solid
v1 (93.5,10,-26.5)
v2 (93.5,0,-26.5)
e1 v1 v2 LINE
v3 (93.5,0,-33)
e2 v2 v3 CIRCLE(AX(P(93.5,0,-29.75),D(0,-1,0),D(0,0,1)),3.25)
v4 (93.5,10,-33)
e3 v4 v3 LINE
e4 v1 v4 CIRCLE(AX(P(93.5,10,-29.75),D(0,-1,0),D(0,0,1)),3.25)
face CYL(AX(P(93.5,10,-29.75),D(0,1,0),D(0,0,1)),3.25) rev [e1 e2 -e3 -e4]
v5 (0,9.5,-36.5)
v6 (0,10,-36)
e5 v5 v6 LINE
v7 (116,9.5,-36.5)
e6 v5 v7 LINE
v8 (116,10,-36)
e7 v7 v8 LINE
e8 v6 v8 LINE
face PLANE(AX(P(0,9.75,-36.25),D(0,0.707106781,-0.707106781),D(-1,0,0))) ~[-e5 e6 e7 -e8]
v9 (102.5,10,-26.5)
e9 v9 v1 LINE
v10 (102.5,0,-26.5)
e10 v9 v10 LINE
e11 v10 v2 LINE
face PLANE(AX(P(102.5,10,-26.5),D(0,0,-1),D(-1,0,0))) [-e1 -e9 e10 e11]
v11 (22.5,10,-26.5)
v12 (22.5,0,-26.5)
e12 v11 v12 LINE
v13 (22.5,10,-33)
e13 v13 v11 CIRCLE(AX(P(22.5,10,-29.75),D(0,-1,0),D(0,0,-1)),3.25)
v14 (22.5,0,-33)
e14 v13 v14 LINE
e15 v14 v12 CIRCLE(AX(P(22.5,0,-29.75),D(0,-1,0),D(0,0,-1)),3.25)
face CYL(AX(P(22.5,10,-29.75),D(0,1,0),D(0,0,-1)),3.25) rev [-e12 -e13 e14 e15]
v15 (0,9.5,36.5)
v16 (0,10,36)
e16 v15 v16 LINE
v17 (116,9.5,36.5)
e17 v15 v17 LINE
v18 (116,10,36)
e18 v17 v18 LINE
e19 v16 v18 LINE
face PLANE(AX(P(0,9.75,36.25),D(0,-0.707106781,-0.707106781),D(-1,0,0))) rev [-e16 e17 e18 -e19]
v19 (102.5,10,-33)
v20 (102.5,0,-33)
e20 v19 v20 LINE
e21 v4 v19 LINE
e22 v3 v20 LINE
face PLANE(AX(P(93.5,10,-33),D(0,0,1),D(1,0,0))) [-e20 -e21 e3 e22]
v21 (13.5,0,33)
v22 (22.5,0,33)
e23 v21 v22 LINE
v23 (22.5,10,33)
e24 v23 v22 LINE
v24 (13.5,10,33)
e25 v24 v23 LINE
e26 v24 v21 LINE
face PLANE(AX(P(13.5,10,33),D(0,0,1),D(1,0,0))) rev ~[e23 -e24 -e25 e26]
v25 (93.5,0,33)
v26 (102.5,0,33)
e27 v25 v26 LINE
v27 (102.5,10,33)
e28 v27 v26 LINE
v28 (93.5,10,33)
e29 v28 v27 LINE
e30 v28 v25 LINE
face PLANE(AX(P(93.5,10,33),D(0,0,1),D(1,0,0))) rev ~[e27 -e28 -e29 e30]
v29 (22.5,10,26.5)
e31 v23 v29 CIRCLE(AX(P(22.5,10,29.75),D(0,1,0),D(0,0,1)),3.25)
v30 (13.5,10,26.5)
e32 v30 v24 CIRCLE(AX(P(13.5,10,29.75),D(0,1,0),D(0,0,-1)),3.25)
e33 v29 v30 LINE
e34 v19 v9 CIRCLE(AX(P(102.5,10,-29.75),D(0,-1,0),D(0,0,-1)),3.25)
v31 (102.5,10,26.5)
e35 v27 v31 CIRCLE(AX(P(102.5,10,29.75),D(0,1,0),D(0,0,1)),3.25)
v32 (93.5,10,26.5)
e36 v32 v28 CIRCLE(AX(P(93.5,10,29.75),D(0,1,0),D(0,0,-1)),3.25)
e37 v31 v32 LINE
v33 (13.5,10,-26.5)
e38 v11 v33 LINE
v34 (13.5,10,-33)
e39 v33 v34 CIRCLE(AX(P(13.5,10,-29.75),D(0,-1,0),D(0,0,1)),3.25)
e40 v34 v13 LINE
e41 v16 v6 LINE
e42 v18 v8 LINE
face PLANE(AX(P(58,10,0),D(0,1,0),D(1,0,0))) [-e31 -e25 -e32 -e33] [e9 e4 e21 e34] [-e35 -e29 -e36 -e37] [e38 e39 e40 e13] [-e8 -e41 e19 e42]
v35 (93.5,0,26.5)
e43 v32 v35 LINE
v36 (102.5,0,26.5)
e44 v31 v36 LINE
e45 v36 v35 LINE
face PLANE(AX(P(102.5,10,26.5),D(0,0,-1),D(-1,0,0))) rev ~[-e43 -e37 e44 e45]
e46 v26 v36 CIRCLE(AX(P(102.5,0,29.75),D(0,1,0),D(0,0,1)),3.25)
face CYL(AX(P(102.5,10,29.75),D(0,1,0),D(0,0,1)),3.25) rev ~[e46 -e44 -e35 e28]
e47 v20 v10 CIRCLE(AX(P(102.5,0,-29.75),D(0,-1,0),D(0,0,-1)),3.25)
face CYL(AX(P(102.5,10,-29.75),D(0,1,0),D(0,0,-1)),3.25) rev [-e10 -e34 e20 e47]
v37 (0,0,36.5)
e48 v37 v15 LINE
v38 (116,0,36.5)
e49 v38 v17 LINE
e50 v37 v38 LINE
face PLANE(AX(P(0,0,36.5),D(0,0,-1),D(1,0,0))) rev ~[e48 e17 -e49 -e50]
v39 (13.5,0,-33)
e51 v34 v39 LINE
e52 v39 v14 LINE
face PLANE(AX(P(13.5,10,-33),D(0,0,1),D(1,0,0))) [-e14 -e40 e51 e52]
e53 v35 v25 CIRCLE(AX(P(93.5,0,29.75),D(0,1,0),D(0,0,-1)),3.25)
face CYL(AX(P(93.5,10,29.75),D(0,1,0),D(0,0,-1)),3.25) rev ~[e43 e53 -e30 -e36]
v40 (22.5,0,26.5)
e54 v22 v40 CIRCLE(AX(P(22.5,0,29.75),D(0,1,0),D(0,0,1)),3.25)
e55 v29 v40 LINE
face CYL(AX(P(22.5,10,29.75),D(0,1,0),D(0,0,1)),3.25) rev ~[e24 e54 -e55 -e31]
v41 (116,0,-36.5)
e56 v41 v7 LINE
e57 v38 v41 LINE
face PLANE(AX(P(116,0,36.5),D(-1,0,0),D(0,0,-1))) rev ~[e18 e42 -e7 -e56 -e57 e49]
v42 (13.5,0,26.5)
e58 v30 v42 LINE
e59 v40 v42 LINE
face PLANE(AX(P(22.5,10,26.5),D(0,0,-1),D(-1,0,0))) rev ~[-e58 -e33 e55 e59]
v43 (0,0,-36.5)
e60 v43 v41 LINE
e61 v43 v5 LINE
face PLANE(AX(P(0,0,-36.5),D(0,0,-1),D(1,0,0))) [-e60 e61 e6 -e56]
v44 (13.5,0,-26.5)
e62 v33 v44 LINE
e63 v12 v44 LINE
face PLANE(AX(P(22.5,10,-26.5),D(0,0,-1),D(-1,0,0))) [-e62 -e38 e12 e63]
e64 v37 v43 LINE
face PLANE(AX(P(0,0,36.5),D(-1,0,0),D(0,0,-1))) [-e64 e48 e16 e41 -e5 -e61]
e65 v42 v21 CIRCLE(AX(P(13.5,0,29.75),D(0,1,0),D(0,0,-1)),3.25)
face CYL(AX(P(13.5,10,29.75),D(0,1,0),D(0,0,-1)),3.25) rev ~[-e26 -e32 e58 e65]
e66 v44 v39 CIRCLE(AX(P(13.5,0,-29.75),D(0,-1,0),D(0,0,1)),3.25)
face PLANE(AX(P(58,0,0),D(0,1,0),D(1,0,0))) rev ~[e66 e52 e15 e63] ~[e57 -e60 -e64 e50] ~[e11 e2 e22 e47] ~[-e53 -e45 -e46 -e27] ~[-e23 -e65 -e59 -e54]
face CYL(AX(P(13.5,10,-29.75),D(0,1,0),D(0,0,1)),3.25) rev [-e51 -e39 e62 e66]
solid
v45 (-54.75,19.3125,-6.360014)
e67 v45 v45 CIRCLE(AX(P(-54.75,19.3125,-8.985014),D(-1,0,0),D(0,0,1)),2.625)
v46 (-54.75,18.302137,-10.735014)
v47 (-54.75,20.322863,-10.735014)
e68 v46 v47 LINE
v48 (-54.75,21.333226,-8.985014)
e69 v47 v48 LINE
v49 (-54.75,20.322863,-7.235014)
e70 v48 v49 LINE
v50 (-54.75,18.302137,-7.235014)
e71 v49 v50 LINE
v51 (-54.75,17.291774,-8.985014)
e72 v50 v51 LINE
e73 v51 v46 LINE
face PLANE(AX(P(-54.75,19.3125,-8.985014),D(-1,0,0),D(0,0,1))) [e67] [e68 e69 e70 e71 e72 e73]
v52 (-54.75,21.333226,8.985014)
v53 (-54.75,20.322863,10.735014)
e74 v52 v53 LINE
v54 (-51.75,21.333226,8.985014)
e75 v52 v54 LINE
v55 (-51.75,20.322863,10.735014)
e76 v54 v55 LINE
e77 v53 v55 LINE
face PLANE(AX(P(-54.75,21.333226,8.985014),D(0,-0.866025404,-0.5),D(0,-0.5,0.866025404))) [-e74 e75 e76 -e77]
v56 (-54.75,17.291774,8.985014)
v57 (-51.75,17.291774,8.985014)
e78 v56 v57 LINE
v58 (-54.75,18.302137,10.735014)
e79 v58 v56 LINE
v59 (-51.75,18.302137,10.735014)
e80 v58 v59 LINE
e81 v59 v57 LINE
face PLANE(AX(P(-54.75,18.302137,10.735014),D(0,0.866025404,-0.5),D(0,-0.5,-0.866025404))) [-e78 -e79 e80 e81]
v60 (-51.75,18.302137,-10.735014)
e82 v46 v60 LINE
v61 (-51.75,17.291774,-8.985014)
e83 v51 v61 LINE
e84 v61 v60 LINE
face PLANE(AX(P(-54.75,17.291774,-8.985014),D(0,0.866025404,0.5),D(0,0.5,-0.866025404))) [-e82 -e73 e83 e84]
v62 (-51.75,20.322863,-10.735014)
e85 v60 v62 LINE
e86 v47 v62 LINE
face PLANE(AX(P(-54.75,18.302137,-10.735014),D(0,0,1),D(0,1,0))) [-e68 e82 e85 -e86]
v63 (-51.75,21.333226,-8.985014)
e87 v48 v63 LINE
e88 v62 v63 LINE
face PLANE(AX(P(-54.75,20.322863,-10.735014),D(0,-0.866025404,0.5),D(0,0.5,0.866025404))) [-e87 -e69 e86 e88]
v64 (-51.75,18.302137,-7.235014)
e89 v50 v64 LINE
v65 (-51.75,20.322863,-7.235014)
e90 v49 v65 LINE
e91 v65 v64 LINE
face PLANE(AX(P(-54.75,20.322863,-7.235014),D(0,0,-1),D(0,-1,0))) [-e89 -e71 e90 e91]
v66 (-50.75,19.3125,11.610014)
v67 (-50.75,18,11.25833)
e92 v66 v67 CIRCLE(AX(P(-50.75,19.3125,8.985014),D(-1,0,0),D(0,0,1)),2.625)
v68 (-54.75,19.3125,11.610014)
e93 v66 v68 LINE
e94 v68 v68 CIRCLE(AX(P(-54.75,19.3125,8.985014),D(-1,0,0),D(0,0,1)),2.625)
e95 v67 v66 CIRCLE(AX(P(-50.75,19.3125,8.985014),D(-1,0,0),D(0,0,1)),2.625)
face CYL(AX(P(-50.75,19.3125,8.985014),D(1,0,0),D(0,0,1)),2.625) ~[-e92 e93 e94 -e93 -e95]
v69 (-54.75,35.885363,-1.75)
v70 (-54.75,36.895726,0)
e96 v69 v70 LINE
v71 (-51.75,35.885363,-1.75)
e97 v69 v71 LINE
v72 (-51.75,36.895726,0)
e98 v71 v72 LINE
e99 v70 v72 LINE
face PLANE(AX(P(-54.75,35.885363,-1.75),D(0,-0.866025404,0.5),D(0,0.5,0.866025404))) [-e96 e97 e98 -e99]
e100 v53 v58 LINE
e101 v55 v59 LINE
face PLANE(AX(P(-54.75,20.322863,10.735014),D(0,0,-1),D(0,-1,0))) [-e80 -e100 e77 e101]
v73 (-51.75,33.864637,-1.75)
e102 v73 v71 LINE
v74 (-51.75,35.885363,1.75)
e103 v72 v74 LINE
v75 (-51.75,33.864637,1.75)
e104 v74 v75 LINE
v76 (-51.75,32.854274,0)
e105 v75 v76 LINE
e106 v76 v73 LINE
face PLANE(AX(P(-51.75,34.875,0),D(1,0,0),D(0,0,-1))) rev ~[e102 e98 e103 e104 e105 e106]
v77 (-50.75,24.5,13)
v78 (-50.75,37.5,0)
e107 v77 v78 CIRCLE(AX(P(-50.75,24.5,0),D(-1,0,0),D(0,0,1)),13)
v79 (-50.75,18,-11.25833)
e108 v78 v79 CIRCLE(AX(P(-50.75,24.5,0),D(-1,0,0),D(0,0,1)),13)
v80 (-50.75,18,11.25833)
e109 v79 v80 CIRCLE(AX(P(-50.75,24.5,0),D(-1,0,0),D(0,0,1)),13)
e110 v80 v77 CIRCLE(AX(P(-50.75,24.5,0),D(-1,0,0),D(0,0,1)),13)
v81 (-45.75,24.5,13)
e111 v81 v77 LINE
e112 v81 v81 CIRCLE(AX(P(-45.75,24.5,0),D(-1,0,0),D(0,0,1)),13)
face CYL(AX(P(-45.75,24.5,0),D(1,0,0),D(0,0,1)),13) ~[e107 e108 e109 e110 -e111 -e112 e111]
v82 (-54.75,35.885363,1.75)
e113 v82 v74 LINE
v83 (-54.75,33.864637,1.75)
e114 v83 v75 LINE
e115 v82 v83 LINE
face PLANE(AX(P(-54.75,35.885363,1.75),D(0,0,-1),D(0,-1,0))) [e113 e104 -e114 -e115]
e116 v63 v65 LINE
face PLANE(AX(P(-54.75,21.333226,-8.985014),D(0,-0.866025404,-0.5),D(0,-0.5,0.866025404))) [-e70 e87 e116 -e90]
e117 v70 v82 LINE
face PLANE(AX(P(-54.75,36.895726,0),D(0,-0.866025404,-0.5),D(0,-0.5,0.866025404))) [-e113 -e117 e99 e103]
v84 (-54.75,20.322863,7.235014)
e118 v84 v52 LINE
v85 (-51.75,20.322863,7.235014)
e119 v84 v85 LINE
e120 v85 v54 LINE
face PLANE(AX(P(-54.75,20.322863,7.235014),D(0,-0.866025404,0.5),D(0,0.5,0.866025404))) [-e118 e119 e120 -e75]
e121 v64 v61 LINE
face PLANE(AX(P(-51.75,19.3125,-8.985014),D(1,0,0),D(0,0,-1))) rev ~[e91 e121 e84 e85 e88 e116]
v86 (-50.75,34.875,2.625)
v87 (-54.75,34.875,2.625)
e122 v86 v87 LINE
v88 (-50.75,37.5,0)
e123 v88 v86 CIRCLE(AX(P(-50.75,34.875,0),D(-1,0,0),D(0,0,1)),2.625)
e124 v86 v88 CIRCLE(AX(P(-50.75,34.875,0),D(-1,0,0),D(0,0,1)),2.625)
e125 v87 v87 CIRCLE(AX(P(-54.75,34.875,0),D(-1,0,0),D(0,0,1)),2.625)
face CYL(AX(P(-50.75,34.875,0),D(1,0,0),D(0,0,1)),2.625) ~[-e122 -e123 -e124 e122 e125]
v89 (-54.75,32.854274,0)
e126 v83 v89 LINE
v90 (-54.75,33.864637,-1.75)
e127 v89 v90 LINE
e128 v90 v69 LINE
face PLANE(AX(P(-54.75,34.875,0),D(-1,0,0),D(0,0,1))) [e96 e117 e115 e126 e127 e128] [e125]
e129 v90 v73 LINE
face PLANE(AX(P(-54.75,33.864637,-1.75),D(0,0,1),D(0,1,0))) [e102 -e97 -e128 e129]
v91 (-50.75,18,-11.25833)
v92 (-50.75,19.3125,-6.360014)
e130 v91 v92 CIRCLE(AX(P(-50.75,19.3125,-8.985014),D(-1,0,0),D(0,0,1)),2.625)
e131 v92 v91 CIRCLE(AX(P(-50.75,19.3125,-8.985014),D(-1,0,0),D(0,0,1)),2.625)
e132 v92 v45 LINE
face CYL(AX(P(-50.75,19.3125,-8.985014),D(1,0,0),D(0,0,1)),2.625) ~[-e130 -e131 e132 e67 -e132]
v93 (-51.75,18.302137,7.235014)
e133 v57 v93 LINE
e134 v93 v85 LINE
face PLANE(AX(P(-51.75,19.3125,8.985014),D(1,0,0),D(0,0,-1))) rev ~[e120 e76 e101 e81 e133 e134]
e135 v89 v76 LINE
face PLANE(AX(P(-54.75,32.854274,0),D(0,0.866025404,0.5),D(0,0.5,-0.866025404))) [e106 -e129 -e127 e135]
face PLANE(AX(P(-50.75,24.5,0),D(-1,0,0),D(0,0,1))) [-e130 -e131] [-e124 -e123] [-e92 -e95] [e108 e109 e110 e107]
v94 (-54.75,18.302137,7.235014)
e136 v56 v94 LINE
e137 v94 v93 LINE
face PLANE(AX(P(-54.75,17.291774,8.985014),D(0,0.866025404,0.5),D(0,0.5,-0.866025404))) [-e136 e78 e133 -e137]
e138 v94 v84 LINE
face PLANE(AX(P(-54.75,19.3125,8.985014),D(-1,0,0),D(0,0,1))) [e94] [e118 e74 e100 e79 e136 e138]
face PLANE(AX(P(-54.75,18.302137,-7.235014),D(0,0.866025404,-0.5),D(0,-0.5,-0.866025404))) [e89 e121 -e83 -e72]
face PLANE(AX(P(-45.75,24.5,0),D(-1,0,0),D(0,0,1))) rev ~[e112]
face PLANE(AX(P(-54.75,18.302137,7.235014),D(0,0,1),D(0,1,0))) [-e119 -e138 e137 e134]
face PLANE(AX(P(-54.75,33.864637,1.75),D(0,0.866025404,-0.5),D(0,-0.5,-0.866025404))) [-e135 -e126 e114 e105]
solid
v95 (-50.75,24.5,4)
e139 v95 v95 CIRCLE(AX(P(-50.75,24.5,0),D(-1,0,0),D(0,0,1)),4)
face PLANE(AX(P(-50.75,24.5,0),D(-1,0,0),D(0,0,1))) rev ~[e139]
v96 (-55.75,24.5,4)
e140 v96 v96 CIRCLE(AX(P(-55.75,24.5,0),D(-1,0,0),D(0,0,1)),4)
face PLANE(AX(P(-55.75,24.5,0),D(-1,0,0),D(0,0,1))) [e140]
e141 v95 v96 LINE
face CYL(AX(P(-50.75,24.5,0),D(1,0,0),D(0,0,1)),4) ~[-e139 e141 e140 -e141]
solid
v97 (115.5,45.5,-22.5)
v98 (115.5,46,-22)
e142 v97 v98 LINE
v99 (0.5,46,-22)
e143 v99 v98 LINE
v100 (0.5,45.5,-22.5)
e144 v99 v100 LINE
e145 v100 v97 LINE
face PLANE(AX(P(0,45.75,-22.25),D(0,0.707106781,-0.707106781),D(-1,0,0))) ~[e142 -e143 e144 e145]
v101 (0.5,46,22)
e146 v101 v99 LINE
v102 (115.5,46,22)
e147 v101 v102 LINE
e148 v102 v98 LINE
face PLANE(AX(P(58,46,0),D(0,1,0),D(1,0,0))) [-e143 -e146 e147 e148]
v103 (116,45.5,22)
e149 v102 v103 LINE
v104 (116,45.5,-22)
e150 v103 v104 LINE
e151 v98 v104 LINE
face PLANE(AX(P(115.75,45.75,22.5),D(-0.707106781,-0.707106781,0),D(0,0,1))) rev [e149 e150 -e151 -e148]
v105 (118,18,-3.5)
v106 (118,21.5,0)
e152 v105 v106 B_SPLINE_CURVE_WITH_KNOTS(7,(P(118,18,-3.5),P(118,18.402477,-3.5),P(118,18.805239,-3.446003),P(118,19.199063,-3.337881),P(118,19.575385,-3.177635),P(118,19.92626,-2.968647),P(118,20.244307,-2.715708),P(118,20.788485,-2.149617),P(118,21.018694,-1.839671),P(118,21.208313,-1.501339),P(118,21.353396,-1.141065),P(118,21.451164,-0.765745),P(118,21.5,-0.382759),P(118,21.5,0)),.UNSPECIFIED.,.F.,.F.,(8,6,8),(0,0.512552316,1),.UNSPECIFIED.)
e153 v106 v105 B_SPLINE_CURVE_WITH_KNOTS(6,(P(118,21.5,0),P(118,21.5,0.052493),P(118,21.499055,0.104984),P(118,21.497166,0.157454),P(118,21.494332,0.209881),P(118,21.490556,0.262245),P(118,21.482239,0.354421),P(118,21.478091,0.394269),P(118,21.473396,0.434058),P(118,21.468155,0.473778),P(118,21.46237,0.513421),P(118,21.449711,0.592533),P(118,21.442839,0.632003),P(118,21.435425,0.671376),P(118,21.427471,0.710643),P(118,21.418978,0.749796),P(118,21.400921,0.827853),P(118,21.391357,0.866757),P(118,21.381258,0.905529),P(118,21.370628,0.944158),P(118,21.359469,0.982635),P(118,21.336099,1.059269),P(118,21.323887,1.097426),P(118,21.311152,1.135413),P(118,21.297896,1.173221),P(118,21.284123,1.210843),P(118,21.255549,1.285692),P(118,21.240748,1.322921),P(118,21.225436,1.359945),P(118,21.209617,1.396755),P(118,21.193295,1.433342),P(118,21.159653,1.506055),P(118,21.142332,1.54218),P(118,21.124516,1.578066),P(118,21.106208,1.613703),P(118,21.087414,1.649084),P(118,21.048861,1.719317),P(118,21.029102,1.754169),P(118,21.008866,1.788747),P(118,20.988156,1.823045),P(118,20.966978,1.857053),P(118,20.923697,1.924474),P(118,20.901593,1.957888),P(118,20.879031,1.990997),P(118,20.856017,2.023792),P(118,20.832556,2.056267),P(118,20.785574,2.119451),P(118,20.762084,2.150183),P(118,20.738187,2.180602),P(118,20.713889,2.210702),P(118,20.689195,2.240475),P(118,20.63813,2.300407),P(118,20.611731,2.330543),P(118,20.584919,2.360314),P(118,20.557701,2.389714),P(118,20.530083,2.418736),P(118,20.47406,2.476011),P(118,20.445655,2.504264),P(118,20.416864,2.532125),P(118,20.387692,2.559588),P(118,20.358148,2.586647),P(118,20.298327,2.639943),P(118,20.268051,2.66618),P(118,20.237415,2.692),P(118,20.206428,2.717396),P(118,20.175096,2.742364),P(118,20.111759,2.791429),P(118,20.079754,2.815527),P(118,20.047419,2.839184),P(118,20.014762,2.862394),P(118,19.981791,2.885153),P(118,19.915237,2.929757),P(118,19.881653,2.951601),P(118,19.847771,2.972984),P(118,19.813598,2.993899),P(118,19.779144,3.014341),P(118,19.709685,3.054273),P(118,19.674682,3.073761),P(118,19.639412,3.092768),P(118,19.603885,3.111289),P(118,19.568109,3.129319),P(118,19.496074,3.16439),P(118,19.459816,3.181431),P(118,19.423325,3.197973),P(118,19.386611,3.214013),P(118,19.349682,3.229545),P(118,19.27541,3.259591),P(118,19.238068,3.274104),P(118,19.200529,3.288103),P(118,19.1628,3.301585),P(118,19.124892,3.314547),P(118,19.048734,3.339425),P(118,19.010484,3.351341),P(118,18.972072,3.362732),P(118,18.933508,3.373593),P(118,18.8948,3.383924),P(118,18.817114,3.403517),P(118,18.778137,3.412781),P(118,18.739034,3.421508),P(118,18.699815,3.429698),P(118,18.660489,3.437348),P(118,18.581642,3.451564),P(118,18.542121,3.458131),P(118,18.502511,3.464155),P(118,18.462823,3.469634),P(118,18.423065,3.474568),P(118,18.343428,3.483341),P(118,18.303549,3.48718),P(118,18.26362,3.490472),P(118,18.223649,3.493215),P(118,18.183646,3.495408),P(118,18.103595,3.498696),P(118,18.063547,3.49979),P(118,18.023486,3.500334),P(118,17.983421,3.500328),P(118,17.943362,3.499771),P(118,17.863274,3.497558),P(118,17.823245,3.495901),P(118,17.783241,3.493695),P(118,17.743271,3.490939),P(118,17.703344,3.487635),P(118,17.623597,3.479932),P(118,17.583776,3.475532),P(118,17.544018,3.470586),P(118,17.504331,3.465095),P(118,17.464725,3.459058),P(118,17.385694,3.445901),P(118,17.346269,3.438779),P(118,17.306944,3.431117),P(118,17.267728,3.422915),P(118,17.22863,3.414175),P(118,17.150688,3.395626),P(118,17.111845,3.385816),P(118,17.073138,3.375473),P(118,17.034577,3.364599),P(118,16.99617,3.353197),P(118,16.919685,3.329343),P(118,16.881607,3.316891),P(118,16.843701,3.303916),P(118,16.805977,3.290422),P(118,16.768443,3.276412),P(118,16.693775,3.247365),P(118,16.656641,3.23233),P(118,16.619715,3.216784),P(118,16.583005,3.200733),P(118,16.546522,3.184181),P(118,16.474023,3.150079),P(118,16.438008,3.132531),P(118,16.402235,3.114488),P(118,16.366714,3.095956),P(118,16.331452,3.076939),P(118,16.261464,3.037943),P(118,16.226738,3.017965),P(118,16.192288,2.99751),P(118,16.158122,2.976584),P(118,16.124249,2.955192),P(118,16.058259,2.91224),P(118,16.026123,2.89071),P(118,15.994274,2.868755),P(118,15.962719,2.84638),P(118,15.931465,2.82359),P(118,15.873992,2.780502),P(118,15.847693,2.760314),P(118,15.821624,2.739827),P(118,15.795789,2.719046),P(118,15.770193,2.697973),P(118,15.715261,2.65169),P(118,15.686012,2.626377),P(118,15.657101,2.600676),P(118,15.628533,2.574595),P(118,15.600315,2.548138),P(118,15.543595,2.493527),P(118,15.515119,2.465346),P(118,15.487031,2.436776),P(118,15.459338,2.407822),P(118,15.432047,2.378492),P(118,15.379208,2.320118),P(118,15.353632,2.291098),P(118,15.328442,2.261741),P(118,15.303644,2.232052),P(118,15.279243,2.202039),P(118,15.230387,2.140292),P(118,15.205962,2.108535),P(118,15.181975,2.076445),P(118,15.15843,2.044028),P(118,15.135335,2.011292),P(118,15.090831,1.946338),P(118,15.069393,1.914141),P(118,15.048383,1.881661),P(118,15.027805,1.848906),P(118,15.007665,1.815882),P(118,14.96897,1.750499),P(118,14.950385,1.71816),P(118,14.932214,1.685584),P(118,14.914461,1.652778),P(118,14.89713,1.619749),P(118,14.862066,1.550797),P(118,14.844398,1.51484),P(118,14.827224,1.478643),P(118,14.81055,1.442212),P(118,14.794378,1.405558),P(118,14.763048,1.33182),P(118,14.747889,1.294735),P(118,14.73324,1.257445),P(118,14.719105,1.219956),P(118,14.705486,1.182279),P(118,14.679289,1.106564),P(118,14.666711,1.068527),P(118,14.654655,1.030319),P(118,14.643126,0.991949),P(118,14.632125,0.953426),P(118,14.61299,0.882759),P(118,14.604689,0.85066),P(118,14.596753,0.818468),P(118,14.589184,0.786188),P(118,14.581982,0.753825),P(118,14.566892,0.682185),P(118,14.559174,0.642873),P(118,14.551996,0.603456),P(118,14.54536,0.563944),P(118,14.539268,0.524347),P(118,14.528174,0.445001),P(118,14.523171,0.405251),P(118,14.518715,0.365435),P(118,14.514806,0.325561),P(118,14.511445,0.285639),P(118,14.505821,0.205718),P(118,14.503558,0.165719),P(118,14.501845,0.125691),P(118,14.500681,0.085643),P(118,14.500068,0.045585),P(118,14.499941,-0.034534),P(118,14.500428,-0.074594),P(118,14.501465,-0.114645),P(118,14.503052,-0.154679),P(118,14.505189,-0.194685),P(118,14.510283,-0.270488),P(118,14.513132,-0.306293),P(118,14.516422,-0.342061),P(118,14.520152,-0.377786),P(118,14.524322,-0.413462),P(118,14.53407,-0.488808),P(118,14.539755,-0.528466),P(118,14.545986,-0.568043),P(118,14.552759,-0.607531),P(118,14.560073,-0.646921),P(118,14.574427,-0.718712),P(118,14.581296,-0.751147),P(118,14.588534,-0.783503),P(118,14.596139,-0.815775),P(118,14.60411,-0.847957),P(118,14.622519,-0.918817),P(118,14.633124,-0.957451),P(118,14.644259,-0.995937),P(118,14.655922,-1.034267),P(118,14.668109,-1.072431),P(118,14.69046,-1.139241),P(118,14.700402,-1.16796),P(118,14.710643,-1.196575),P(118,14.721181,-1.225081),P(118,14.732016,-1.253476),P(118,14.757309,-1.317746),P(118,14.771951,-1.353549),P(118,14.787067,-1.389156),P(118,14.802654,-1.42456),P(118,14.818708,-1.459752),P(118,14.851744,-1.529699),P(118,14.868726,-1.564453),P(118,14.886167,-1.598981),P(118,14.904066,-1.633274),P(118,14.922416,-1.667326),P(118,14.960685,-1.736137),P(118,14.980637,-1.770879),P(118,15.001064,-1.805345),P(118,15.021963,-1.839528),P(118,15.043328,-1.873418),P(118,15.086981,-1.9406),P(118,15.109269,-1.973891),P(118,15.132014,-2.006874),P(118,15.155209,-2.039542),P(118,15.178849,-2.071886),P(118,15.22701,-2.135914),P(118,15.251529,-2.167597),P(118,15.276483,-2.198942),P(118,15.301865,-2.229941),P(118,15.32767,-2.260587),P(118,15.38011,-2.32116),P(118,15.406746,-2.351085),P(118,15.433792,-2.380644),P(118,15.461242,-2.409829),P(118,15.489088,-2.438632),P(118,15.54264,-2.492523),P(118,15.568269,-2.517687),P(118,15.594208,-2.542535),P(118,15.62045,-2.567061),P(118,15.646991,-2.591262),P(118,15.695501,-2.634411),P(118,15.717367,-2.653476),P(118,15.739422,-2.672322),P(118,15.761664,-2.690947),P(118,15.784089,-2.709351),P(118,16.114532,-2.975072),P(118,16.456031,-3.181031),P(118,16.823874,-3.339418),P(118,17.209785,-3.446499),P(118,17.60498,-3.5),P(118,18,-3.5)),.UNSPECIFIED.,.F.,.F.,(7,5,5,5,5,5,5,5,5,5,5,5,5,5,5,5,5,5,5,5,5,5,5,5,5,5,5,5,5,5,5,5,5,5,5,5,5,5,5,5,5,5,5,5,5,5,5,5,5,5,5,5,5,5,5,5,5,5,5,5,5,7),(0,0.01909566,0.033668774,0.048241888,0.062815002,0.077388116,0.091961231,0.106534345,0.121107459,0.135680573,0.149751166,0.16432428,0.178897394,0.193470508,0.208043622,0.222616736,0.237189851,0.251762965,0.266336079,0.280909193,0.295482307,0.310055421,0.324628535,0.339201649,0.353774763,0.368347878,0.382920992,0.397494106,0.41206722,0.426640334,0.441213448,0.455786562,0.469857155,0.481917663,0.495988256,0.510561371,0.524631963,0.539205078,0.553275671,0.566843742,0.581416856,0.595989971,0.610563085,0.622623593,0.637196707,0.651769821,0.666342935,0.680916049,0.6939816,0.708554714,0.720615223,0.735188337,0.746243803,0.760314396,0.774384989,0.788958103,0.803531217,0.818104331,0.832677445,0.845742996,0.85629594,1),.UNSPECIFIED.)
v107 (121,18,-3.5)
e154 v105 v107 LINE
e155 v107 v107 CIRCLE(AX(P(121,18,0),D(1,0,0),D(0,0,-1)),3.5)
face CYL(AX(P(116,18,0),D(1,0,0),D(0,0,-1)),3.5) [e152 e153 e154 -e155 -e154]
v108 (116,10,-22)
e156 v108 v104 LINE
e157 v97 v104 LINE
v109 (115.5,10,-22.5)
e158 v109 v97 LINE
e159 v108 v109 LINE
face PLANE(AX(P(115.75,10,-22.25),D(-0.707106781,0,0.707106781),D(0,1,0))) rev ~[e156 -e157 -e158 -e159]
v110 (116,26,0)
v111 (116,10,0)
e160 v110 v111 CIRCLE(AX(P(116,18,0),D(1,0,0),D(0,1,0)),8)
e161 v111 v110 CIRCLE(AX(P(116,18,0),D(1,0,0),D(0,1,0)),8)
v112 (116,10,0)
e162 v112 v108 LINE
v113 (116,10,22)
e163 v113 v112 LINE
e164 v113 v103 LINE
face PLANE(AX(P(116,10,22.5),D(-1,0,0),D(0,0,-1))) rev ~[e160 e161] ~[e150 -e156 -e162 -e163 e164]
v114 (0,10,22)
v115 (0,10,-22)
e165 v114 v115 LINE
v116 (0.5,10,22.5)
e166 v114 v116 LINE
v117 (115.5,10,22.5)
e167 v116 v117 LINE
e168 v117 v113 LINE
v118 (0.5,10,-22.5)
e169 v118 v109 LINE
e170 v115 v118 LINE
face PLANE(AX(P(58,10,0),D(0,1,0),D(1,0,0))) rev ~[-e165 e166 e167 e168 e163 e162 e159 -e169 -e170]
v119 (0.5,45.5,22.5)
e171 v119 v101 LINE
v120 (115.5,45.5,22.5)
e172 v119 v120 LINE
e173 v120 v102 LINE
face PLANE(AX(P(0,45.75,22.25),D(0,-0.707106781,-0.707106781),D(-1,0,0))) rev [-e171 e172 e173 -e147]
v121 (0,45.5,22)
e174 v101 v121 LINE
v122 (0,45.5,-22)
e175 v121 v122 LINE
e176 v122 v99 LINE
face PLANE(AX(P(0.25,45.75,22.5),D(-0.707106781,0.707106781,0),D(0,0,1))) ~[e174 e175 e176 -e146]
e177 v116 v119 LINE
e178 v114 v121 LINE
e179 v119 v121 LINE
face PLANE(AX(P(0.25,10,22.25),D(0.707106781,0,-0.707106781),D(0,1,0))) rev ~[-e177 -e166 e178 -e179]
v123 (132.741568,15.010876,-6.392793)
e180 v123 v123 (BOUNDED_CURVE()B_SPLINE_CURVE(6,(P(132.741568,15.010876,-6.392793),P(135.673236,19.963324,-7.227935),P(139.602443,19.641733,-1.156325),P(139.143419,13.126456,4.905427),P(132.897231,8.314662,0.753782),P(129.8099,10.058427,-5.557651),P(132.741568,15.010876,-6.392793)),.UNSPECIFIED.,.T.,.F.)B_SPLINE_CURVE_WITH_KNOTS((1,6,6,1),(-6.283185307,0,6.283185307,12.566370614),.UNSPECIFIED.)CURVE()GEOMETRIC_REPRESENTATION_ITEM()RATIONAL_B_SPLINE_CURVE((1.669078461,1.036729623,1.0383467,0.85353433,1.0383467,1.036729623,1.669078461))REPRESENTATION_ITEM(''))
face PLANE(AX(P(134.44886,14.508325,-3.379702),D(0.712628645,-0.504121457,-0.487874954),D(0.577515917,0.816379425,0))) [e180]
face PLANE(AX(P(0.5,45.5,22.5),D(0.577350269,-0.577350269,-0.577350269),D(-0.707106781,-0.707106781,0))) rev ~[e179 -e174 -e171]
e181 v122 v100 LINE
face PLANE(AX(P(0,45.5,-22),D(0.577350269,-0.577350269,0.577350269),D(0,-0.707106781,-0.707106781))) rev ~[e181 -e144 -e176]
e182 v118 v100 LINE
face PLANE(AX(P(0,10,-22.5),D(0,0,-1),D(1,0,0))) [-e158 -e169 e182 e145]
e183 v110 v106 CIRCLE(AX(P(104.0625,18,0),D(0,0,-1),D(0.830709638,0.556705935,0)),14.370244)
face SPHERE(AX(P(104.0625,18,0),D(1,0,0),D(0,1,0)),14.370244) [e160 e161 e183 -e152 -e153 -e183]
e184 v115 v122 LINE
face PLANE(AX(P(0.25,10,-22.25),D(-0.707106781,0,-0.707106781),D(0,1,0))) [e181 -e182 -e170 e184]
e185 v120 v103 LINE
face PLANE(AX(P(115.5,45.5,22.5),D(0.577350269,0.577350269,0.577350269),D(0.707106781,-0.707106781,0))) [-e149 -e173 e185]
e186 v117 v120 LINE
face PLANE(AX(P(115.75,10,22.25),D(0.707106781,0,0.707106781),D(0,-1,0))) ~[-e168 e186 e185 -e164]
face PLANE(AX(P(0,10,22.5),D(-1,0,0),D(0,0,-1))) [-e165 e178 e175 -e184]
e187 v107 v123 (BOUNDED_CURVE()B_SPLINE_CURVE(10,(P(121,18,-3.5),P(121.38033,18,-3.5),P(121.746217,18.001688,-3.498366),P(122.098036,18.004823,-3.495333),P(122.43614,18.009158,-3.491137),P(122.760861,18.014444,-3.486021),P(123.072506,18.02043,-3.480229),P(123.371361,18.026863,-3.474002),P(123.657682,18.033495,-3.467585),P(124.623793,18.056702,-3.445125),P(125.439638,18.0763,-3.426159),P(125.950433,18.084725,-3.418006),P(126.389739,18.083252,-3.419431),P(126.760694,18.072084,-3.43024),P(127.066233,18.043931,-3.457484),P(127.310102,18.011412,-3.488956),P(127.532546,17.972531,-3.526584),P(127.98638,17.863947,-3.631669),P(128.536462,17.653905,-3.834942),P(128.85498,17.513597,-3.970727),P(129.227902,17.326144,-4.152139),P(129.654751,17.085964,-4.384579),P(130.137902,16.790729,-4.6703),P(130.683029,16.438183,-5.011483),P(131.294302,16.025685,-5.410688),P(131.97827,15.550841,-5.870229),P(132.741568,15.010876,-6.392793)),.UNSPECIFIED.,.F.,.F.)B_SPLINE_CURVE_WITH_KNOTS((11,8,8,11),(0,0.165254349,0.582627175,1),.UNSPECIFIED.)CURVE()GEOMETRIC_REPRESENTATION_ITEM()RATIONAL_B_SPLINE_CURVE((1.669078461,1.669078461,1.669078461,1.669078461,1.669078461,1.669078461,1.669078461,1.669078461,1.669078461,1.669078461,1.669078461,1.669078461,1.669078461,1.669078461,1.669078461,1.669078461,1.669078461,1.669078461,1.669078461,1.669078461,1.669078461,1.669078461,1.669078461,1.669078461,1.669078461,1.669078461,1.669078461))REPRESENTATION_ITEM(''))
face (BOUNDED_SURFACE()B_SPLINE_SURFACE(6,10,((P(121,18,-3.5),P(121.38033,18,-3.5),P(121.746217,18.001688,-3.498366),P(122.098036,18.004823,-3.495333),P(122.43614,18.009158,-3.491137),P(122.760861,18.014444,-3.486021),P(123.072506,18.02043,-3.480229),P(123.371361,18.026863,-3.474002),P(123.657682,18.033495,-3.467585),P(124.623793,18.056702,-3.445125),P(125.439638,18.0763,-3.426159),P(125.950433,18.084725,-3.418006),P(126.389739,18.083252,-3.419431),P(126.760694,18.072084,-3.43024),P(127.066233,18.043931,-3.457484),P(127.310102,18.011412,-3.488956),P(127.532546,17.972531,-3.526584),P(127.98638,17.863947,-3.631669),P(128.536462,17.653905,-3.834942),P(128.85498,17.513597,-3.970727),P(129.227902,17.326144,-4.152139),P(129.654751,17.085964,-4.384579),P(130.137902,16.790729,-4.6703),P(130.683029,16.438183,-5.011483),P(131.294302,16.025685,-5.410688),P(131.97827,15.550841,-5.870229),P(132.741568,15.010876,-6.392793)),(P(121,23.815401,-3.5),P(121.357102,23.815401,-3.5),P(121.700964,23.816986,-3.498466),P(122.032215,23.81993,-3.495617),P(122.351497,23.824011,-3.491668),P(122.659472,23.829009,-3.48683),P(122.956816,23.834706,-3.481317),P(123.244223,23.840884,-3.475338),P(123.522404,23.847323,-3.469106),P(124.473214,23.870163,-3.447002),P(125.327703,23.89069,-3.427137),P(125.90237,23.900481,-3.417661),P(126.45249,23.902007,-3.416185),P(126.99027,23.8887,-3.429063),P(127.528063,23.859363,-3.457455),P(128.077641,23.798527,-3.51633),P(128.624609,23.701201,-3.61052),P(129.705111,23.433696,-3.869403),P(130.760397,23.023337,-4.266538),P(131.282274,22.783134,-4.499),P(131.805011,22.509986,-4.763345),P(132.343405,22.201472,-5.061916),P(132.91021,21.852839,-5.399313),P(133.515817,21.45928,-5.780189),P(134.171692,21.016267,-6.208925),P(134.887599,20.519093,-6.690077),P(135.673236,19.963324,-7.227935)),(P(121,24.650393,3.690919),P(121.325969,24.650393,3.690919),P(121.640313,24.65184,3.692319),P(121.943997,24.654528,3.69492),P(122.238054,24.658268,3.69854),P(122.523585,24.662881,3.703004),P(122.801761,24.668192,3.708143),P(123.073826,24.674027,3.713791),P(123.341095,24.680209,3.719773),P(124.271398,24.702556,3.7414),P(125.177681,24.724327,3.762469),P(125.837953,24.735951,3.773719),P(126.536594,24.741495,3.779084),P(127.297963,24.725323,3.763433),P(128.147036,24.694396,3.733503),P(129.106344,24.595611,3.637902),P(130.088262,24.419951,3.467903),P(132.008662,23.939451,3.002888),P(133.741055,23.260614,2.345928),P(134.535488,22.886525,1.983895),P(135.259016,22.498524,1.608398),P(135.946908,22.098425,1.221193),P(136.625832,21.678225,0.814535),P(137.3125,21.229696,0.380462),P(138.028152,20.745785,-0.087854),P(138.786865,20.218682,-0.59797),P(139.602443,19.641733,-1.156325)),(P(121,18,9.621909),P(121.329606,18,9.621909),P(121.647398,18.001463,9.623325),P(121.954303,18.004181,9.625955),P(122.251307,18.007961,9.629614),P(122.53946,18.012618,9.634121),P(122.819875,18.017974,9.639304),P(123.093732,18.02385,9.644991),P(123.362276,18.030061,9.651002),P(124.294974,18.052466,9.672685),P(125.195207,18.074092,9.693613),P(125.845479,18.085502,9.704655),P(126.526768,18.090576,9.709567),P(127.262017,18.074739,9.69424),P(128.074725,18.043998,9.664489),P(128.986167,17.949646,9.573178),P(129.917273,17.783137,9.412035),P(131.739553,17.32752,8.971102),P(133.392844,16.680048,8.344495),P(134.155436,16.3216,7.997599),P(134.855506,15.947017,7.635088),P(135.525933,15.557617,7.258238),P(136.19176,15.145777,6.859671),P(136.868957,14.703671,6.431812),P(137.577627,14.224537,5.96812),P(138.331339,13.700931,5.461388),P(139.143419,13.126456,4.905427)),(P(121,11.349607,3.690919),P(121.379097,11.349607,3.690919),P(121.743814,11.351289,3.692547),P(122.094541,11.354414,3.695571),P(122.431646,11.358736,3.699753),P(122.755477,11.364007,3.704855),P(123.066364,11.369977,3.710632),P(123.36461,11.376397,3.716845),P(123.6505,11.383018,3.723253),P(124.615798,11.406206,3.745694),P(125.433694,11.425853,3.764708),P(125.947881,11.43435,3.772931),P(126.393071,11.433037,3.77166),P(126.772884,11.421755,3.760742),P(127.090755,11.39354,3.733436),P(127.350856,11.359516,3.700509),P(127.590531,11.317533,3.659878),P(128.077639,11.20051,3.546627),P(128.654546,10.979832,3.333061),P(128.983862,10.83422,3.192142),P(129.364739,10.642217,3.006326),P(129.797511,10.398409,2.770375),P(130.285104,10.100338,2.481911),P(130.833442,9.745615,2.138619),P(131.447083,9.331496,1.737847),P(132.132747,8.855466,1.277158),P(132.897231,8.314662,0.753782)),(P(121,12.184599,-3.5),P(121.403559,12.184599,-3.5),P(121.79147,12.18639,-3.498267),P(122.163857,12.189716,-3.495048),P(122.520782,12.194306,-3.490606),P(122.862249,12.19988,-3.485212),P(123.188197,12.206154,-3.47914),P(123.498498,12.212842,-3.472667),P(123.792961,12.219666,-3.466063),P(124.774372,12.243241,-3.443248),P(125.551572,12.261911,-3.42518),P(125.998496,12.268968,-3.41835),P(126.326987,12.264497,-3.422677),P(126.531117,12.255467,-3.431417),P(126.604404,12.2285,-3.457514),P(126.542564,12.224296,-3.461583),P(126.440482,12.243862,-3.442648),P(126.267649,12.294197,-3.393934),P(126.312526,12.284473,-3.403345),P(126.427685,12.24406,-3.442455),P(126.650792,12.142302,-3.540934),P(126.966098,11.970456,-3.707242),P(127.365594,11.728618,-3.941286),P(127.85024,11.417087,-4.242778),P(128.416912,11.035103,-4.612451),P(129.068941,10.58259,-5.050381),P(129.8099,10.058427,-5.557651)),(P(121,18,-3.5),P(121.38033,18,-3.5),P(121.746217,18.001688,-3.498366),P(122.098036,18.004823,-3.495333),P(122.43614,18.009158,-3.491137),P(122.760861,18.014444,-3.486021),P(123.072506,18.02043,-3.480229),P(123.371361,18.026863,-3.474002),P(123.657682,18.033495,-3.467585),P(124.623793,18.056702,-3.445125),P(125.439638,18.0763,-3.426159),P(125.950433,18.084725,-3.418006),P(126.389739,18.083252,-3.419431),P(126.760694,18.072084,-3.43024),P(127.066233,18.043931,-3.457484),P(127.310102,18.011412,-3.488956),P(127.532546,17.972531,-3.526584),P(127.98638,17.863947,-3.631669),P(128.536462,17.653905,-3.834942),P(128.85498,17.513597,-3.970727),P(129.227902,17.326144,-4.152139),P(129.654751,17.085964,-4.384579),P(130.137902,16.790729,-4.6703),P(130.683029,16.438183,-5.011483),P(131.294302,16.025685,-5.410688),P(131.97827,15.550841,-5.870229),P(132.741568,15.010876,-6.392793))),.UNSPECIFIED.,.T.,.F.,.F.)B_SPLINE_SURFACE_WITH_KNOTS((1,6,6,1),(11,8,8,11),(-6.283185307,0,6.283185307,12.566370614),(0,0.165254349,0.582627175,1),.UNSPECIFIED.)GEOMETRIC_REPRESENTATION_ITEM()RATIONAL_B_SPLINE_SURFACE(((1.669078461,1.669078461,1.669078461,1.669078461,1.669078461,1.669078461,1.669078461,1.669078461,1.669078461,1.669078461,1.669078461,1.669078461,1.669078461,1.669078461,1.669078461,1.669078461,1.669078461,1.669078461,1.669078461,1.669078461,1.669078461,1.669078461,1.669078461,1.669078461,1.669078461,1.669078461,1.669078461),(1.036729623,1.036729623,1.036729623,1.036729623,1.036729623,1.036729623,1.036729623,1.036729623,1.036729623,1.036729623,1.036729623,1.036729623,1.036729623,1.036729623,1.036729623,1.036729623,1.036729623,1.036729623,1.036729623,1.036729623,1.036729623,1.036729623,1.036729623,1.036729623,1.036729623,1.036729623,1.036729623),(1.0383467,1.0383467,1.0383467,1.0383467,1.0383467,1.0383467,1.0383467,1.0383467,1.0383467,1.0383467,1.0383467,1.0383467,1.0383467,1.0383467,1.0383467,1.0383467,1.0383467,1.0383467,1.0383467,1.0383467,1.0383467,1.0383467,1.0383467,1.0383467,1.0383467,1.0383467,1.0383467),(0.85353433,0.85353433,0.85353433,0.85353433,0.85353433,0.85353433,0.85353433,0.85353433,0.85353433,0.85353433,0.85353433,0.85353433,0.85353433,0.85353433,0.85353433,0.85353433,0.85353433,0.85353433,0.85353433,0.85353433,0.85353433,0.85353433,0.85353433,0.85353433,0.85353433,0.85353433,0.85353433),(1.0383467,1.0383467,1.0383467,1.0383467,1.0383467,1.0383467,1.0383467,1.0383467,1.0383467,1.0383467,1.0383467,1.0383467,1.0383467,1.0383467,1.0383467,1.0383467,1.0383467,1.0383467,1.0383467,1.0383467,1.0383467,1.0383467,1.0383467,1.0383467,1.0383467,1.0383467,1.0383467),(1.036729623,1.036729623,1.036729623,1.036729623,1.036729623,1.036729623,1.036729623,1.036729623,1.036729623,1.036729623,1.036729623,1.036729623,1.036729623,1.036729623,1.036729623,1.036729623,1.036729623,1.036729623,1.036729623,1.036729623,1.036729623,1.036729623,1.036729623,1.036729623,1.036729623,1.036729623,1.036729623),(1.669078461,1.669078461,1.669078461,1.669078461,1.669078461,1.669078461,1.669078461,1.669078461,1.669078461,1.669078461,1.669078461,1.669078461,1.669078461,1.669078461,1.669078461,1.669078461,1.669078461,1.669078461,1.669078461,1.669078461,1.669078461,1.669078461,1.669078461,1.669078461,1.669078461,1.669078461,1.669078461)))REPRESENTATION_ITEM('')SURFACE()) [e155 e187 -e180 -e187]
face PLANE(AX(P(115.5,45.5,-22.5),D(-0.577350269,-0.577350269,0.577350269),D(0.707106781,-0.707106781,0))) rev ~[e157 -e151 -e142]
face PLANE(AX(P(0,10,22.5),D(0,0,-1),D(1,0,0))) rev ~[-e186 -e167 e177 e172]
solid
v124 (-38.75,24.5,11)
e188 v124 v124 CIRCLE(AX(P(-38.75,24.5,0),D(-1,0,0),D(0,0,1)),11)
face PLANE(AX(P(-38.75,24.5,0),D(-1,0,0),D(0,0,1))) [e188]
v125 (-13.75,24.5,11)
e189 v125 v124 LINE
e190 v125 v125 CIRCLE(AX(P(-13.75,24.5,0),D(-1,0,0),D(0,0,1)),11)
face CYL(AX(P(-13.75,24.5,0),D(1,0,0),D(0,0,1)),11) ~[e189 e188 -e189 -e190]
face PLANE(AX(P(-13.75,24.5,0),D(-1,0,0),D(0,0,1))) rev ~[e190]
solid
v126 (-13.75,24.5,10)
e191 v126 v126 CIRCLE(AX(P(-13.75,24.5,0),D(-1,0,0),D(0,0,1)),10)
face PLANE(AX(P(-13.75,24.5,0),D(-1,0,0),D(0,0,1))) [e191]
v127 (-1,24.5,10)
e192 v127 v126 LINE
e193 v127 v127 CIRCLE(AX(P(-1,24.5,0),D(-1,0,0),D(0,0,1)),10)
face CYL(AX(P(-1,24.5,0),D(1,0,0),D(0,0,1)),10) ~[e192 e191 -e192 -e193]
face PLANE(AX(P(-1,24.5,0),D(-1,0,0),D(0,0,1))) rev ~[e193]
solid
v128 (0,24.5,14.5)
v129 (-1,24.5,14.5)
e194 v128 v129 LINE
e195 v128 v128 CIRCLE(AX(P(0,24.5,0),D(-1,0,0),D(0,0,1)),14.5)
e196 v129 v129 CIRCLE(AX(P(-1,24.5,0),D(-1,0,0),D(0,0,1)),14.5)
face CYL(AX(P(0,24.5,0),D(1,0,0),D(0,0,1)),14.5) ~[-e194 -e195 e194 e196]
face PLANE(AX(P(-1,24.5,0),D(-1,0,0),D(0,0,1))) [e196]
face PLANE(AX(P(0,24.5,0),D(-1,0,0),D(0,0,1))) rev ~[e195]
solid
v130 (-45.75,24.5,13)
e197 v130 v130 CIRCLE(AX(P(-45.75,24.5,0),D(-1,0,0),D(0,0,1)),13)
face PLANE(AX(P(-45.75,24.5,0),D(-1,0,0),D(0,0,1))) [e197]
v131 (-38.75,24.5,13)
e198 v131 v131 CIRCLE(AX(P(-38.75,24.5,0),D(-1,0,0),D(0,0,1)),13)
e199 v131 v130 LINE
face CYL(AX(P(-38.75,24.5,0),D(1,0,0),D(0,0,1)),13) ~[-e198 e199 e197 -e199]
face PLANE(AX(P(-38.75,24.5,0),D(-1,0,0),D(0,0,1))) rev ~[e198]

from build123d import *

# Parameters (mm, degrees)
SKETCH1_W           = 116
SKETCH1_H           = 73
BOSS_EXTRUDE1_DEPTH = 10
SKETCH2_W           = 116
SKETCH2_H           = 45
BOSS_EXTRUDE2_DEPTH = 36
SKETCH3_R           = 14.5
BOSS_EXTRUDE3_DEPTH = 1
SKETCH4_R           = 10
BOSS_EXTRUDE4_DEPTH = 12.75
SKETCH5_R           = 11
BOSS_EXTRUDE5_DEPTH = 25
SKETCH6_R           = 13
BOSS_EXTRUDE6_DEPTH = 7
SKETCH7_R           = 13
BOSS_EXTRUDE7_DEPTH = 5
SKETCH8_R           = 4
BOSS_EXTRUDE8_DEPTH = 5
CUT_EXTRUDE1_DEPTH  = 10
CHAMFER1_SIZE       = 0.5
CHAMFER2_SIZE       = 0.5
SKETCH10_R          = 3.5
SKETCH13_R          = 2.625
BOSS_EXTRUDE9_DEPTH = 4
CUT_EXTRUDE2_DEPTH  = 3


with BuildPart() as part:
    # Sketch1 → Boss-Extrude1 (new body)
    with BuildSketch(Plane(origin=(0, 0, 0), x_dir=(1, 0, 0), z_dir=(0, 1, 0))):
        with Locations((58, 0)):
            Rectangle(SKETCH1_W, SKETCH1_H)
    extrude(amount=BOSS_EXTRUDE1_DEPTH)

    # Sketch9 → Cut-Extrude1 (cut)
    with BuildSketch(Plane(origin=(0, 10, 0), x_dir=(1, 0, 0), z_dir=(0, 1, 0))):
        with BuildLine():
            Line((13.5, 33), (22.5, 33))
            ThreePointArc((22.5, 33), (25.75, 29.75), (22.5, 26.5))
            Line((22.5, 26.5), (13.5, 26.5))
            ThreePointArc((13.5, 26.5), (10.25, 29.75), (13.5, 33))
        make_face()
        with BuildLine():
            Line((93.5, 33), (102.5, 33))
            ThreePointArc((102.5, 33), (105.75, 29.75), (102.5, 26.5))
            Line((102.5, 26.5), (93.5, 26.5))
            ThreePointArc((93.5, 26.5), (90.25, 29.75), (93.5, 33))
        make_face()
        with BuildLine():
            Line((13.5, -33), (22.5, -33))
            ThreePointArc((22.5, -33), (25.75, -29.75), (22.5, -26.5))
            Line((22.5, -26.5), (13.5, -26.5))
            ThreePointArc((13.5, -26.5), (10.25, -29.75), (13.5, -33))
        make_face()
        with BuildLine():
            Line((93.5, -33), (102.5, -33))
            ThreePointArc((102.5, -33), (105.75, -29.75), (102.5, -26.5))
            Line((102.5, -26.5), (93.5, -26.5))
            ThreePointArc((93.5, -26.5), (90.25, -29.75), (93.5, -33))
        make_face()
    extrude(amount=-CUT_EXTRUDE1_DEPTH, mode=Mode.SUBTRACT)

    # Chamfer1
    chamfer1_edges = [part.edges().sort_by_distance(p)[0] for p in [
        (58, 10, -36.5),
        (58, 10, 36.5),
    ]]
    chamfer(chamfer1_edges, length=CHAMFER1_SIZE)


with BuildPart() as body_2:
    # Sketch2 → Boss-Extrude2 (new body)
    with BuildSketch(Plane(origin=(0, 10, 0), x_dir=(1, 0, 0), z_dir=(0, 1, 0))):
        with Locations((58, 0)):
            Rectangle(SKETCH2_W, SKETCH2_H)
    extrude(amount=BOSS_EXTRUDE2_DEPTH)

    # Chamfer2
    chamfer2_edges = [body_2.edges().sort_by_distance(p)[0] for p in [
        (116, 46, 0),
        (58, 46, -22.5),
        (0, 46, 0),
        (58, 46, 22.5),
        (0, 28, -22.5),
        (116, 28, -22.5),
        (116, 28, 22.5),
        (0, 28, 22.5),
    ]]
    chamfer(chamfer2_edges, length=CHAMFER2_SIZE)

    # Sweep1: sweep along a curve in space
    with BuildLine() as sweep1_path:
        Line((116, 18, 0), (121, 18, 0))
        add(Edge.make_bspline(
            [(121, 18, 0), (128.398710809, 18, 0), (128.249160874, 18.894172802, 0.865355974), (134.449130149, 14.508245339, -3.37922463)],
            knots=[0, 0, 0, 0, 1, 1, 1, 1], degree=3))
    # Sketch10 → Sweep1 (sweep)
    with BuildSketch(Plane(origin=(116, 0, 0), x_dir=(0, 0, -1), z_dir=(1, 0, 0))):
        with Locations((0, 18)):
            Circle(SKETCH10_R)
    sweep(path=sweep1_path.line)

    # Sketch11 → Revolve1 (revolve)
    with BuildSketch(Plane(origin=(0, 0, 0), x_dir=(-1, 0, 0), z_dir=(0, 0, -1))):
        with BuildLine():
            Line((-116, 18), (-116, 26))
            ThreePointArc((-116, 26), (-117.8111125, 22.18085644), (-118.432743778, 18))
            Line((-118.432743778, 18), (-116, 18))
        make_face()
    revolve(axis=Axis((116, 18, 0), (1, 0, 0)))


with BuildPart() as body_3:
    # Sketch3 → Boss-Extrude3 (new body)
    with BuildSketch(Plane.ZY):
        with Locations((0, 24.5)):
            Circle(SKETCH3_R)
    extrude(amount=BOSS_EXTRUDE3_DEPTH)


with BuildPart() as body_4:
    # Sketch4 → Boss-Extrude4 (new body)
    with BuildSketch(Plane.ZY.offset(1)):
        with Locations((0, 24.5)):
            Circle(SKETCH4_R)
    extrude(amount=BOSS_EXTRUDE4_DEPTH)


with BuildPart() as body_5:
    # Sketch5 → Boss-Extrude5 (new body)
    with BuildSketch(Plane.ZY.offset(13.75)):
        with Locations((0, 24.5)):
            Circle(SKETCH5_R)
    extrude(amount=BOSS_EXTRUDE5_DEPTH)


with BuildPart() as body_6:
    # Sketch6 → Boss-Extrude6 (new body)
    with BuildSketch(Plane.ZY.offset(38.75)):
        with Locations((0, 24.5)):
            Circle(SKETCH6_R)
    extrude(amount=BOSS_EXTRUDE6_DEPTH)


with BuildPart() as body_7:
    # Sketch7 → Boss-Extrude7 (new body)
    with BuildSketch(Plane.ZY.offset(45.75)):
        with Locations((0, 24.5)):
            Circle(SKETCH7_R)
    extrude(amount=BOSS_EXTRUDE7_DEPTH)

    # Sketch13 → Boss-Extrude9 (add)
    with BuildSketch(Plane.ZY.offset(50.75)):
        with Locations((0, 34.875)):
            Circle(SKETCH13_R)
        with Locations((8.985013564, 19.3125)):
            Circle(SKETCH13_R)
        with Locations((-8.985013564, 19.3125)):
            Circle(SKETCH13_R)
    extrude(amount=BOSS_EXTRUDE9_DEPTH)

    # Sketch14 → Cut-Extrude2 (cut)
    with BuildSketch(Plane.ZY.offset(54.75)):
        Polygon((-1.75, 35.885362971), (0, 36.895725942), (1.75, 35.885362971), (1.75, 33.864637029), (0, 32.854274058), (-1.75, 33.864637029), align=None)
        Polygon((-7.235013564, 18.302137029), (-8.985013564, 17.291774058), (-10.735013564, 18.302137029), (-10.735013564, 20.322862971), (-8.985013564, 21.333225942), (-7.235013564, 20.322862971), align=None)
        Polygon((8.985013564, 21.333225942), (10.735013564, 20.322862971), (10.735013564, 18.302137029), (8.985013564, 17.291774058), (7.235013564, 18.302137029), (7.235013564, 20.322862971), align=None)
    extrude(amount=-CUT_EXTRUDE2_DEPTH, mode=Mode.SUBTRACT)


with BuildPart() as body_8:
    # Sketch8 → Boss-Extrude8 (new body)
    with BuildSketch(Plane.ZY.offset(50.75)):
        with Locations((0, 24.5)):
            Circle(SKETCH8_R)
    extrude(amount=BOSS_EXTRUDE8_DEPTH)


solid = Compound([part.part, body_2.part, body_3.part, body_4.part, body_5.part, body_6.part, body_7.part, body_8.part])
